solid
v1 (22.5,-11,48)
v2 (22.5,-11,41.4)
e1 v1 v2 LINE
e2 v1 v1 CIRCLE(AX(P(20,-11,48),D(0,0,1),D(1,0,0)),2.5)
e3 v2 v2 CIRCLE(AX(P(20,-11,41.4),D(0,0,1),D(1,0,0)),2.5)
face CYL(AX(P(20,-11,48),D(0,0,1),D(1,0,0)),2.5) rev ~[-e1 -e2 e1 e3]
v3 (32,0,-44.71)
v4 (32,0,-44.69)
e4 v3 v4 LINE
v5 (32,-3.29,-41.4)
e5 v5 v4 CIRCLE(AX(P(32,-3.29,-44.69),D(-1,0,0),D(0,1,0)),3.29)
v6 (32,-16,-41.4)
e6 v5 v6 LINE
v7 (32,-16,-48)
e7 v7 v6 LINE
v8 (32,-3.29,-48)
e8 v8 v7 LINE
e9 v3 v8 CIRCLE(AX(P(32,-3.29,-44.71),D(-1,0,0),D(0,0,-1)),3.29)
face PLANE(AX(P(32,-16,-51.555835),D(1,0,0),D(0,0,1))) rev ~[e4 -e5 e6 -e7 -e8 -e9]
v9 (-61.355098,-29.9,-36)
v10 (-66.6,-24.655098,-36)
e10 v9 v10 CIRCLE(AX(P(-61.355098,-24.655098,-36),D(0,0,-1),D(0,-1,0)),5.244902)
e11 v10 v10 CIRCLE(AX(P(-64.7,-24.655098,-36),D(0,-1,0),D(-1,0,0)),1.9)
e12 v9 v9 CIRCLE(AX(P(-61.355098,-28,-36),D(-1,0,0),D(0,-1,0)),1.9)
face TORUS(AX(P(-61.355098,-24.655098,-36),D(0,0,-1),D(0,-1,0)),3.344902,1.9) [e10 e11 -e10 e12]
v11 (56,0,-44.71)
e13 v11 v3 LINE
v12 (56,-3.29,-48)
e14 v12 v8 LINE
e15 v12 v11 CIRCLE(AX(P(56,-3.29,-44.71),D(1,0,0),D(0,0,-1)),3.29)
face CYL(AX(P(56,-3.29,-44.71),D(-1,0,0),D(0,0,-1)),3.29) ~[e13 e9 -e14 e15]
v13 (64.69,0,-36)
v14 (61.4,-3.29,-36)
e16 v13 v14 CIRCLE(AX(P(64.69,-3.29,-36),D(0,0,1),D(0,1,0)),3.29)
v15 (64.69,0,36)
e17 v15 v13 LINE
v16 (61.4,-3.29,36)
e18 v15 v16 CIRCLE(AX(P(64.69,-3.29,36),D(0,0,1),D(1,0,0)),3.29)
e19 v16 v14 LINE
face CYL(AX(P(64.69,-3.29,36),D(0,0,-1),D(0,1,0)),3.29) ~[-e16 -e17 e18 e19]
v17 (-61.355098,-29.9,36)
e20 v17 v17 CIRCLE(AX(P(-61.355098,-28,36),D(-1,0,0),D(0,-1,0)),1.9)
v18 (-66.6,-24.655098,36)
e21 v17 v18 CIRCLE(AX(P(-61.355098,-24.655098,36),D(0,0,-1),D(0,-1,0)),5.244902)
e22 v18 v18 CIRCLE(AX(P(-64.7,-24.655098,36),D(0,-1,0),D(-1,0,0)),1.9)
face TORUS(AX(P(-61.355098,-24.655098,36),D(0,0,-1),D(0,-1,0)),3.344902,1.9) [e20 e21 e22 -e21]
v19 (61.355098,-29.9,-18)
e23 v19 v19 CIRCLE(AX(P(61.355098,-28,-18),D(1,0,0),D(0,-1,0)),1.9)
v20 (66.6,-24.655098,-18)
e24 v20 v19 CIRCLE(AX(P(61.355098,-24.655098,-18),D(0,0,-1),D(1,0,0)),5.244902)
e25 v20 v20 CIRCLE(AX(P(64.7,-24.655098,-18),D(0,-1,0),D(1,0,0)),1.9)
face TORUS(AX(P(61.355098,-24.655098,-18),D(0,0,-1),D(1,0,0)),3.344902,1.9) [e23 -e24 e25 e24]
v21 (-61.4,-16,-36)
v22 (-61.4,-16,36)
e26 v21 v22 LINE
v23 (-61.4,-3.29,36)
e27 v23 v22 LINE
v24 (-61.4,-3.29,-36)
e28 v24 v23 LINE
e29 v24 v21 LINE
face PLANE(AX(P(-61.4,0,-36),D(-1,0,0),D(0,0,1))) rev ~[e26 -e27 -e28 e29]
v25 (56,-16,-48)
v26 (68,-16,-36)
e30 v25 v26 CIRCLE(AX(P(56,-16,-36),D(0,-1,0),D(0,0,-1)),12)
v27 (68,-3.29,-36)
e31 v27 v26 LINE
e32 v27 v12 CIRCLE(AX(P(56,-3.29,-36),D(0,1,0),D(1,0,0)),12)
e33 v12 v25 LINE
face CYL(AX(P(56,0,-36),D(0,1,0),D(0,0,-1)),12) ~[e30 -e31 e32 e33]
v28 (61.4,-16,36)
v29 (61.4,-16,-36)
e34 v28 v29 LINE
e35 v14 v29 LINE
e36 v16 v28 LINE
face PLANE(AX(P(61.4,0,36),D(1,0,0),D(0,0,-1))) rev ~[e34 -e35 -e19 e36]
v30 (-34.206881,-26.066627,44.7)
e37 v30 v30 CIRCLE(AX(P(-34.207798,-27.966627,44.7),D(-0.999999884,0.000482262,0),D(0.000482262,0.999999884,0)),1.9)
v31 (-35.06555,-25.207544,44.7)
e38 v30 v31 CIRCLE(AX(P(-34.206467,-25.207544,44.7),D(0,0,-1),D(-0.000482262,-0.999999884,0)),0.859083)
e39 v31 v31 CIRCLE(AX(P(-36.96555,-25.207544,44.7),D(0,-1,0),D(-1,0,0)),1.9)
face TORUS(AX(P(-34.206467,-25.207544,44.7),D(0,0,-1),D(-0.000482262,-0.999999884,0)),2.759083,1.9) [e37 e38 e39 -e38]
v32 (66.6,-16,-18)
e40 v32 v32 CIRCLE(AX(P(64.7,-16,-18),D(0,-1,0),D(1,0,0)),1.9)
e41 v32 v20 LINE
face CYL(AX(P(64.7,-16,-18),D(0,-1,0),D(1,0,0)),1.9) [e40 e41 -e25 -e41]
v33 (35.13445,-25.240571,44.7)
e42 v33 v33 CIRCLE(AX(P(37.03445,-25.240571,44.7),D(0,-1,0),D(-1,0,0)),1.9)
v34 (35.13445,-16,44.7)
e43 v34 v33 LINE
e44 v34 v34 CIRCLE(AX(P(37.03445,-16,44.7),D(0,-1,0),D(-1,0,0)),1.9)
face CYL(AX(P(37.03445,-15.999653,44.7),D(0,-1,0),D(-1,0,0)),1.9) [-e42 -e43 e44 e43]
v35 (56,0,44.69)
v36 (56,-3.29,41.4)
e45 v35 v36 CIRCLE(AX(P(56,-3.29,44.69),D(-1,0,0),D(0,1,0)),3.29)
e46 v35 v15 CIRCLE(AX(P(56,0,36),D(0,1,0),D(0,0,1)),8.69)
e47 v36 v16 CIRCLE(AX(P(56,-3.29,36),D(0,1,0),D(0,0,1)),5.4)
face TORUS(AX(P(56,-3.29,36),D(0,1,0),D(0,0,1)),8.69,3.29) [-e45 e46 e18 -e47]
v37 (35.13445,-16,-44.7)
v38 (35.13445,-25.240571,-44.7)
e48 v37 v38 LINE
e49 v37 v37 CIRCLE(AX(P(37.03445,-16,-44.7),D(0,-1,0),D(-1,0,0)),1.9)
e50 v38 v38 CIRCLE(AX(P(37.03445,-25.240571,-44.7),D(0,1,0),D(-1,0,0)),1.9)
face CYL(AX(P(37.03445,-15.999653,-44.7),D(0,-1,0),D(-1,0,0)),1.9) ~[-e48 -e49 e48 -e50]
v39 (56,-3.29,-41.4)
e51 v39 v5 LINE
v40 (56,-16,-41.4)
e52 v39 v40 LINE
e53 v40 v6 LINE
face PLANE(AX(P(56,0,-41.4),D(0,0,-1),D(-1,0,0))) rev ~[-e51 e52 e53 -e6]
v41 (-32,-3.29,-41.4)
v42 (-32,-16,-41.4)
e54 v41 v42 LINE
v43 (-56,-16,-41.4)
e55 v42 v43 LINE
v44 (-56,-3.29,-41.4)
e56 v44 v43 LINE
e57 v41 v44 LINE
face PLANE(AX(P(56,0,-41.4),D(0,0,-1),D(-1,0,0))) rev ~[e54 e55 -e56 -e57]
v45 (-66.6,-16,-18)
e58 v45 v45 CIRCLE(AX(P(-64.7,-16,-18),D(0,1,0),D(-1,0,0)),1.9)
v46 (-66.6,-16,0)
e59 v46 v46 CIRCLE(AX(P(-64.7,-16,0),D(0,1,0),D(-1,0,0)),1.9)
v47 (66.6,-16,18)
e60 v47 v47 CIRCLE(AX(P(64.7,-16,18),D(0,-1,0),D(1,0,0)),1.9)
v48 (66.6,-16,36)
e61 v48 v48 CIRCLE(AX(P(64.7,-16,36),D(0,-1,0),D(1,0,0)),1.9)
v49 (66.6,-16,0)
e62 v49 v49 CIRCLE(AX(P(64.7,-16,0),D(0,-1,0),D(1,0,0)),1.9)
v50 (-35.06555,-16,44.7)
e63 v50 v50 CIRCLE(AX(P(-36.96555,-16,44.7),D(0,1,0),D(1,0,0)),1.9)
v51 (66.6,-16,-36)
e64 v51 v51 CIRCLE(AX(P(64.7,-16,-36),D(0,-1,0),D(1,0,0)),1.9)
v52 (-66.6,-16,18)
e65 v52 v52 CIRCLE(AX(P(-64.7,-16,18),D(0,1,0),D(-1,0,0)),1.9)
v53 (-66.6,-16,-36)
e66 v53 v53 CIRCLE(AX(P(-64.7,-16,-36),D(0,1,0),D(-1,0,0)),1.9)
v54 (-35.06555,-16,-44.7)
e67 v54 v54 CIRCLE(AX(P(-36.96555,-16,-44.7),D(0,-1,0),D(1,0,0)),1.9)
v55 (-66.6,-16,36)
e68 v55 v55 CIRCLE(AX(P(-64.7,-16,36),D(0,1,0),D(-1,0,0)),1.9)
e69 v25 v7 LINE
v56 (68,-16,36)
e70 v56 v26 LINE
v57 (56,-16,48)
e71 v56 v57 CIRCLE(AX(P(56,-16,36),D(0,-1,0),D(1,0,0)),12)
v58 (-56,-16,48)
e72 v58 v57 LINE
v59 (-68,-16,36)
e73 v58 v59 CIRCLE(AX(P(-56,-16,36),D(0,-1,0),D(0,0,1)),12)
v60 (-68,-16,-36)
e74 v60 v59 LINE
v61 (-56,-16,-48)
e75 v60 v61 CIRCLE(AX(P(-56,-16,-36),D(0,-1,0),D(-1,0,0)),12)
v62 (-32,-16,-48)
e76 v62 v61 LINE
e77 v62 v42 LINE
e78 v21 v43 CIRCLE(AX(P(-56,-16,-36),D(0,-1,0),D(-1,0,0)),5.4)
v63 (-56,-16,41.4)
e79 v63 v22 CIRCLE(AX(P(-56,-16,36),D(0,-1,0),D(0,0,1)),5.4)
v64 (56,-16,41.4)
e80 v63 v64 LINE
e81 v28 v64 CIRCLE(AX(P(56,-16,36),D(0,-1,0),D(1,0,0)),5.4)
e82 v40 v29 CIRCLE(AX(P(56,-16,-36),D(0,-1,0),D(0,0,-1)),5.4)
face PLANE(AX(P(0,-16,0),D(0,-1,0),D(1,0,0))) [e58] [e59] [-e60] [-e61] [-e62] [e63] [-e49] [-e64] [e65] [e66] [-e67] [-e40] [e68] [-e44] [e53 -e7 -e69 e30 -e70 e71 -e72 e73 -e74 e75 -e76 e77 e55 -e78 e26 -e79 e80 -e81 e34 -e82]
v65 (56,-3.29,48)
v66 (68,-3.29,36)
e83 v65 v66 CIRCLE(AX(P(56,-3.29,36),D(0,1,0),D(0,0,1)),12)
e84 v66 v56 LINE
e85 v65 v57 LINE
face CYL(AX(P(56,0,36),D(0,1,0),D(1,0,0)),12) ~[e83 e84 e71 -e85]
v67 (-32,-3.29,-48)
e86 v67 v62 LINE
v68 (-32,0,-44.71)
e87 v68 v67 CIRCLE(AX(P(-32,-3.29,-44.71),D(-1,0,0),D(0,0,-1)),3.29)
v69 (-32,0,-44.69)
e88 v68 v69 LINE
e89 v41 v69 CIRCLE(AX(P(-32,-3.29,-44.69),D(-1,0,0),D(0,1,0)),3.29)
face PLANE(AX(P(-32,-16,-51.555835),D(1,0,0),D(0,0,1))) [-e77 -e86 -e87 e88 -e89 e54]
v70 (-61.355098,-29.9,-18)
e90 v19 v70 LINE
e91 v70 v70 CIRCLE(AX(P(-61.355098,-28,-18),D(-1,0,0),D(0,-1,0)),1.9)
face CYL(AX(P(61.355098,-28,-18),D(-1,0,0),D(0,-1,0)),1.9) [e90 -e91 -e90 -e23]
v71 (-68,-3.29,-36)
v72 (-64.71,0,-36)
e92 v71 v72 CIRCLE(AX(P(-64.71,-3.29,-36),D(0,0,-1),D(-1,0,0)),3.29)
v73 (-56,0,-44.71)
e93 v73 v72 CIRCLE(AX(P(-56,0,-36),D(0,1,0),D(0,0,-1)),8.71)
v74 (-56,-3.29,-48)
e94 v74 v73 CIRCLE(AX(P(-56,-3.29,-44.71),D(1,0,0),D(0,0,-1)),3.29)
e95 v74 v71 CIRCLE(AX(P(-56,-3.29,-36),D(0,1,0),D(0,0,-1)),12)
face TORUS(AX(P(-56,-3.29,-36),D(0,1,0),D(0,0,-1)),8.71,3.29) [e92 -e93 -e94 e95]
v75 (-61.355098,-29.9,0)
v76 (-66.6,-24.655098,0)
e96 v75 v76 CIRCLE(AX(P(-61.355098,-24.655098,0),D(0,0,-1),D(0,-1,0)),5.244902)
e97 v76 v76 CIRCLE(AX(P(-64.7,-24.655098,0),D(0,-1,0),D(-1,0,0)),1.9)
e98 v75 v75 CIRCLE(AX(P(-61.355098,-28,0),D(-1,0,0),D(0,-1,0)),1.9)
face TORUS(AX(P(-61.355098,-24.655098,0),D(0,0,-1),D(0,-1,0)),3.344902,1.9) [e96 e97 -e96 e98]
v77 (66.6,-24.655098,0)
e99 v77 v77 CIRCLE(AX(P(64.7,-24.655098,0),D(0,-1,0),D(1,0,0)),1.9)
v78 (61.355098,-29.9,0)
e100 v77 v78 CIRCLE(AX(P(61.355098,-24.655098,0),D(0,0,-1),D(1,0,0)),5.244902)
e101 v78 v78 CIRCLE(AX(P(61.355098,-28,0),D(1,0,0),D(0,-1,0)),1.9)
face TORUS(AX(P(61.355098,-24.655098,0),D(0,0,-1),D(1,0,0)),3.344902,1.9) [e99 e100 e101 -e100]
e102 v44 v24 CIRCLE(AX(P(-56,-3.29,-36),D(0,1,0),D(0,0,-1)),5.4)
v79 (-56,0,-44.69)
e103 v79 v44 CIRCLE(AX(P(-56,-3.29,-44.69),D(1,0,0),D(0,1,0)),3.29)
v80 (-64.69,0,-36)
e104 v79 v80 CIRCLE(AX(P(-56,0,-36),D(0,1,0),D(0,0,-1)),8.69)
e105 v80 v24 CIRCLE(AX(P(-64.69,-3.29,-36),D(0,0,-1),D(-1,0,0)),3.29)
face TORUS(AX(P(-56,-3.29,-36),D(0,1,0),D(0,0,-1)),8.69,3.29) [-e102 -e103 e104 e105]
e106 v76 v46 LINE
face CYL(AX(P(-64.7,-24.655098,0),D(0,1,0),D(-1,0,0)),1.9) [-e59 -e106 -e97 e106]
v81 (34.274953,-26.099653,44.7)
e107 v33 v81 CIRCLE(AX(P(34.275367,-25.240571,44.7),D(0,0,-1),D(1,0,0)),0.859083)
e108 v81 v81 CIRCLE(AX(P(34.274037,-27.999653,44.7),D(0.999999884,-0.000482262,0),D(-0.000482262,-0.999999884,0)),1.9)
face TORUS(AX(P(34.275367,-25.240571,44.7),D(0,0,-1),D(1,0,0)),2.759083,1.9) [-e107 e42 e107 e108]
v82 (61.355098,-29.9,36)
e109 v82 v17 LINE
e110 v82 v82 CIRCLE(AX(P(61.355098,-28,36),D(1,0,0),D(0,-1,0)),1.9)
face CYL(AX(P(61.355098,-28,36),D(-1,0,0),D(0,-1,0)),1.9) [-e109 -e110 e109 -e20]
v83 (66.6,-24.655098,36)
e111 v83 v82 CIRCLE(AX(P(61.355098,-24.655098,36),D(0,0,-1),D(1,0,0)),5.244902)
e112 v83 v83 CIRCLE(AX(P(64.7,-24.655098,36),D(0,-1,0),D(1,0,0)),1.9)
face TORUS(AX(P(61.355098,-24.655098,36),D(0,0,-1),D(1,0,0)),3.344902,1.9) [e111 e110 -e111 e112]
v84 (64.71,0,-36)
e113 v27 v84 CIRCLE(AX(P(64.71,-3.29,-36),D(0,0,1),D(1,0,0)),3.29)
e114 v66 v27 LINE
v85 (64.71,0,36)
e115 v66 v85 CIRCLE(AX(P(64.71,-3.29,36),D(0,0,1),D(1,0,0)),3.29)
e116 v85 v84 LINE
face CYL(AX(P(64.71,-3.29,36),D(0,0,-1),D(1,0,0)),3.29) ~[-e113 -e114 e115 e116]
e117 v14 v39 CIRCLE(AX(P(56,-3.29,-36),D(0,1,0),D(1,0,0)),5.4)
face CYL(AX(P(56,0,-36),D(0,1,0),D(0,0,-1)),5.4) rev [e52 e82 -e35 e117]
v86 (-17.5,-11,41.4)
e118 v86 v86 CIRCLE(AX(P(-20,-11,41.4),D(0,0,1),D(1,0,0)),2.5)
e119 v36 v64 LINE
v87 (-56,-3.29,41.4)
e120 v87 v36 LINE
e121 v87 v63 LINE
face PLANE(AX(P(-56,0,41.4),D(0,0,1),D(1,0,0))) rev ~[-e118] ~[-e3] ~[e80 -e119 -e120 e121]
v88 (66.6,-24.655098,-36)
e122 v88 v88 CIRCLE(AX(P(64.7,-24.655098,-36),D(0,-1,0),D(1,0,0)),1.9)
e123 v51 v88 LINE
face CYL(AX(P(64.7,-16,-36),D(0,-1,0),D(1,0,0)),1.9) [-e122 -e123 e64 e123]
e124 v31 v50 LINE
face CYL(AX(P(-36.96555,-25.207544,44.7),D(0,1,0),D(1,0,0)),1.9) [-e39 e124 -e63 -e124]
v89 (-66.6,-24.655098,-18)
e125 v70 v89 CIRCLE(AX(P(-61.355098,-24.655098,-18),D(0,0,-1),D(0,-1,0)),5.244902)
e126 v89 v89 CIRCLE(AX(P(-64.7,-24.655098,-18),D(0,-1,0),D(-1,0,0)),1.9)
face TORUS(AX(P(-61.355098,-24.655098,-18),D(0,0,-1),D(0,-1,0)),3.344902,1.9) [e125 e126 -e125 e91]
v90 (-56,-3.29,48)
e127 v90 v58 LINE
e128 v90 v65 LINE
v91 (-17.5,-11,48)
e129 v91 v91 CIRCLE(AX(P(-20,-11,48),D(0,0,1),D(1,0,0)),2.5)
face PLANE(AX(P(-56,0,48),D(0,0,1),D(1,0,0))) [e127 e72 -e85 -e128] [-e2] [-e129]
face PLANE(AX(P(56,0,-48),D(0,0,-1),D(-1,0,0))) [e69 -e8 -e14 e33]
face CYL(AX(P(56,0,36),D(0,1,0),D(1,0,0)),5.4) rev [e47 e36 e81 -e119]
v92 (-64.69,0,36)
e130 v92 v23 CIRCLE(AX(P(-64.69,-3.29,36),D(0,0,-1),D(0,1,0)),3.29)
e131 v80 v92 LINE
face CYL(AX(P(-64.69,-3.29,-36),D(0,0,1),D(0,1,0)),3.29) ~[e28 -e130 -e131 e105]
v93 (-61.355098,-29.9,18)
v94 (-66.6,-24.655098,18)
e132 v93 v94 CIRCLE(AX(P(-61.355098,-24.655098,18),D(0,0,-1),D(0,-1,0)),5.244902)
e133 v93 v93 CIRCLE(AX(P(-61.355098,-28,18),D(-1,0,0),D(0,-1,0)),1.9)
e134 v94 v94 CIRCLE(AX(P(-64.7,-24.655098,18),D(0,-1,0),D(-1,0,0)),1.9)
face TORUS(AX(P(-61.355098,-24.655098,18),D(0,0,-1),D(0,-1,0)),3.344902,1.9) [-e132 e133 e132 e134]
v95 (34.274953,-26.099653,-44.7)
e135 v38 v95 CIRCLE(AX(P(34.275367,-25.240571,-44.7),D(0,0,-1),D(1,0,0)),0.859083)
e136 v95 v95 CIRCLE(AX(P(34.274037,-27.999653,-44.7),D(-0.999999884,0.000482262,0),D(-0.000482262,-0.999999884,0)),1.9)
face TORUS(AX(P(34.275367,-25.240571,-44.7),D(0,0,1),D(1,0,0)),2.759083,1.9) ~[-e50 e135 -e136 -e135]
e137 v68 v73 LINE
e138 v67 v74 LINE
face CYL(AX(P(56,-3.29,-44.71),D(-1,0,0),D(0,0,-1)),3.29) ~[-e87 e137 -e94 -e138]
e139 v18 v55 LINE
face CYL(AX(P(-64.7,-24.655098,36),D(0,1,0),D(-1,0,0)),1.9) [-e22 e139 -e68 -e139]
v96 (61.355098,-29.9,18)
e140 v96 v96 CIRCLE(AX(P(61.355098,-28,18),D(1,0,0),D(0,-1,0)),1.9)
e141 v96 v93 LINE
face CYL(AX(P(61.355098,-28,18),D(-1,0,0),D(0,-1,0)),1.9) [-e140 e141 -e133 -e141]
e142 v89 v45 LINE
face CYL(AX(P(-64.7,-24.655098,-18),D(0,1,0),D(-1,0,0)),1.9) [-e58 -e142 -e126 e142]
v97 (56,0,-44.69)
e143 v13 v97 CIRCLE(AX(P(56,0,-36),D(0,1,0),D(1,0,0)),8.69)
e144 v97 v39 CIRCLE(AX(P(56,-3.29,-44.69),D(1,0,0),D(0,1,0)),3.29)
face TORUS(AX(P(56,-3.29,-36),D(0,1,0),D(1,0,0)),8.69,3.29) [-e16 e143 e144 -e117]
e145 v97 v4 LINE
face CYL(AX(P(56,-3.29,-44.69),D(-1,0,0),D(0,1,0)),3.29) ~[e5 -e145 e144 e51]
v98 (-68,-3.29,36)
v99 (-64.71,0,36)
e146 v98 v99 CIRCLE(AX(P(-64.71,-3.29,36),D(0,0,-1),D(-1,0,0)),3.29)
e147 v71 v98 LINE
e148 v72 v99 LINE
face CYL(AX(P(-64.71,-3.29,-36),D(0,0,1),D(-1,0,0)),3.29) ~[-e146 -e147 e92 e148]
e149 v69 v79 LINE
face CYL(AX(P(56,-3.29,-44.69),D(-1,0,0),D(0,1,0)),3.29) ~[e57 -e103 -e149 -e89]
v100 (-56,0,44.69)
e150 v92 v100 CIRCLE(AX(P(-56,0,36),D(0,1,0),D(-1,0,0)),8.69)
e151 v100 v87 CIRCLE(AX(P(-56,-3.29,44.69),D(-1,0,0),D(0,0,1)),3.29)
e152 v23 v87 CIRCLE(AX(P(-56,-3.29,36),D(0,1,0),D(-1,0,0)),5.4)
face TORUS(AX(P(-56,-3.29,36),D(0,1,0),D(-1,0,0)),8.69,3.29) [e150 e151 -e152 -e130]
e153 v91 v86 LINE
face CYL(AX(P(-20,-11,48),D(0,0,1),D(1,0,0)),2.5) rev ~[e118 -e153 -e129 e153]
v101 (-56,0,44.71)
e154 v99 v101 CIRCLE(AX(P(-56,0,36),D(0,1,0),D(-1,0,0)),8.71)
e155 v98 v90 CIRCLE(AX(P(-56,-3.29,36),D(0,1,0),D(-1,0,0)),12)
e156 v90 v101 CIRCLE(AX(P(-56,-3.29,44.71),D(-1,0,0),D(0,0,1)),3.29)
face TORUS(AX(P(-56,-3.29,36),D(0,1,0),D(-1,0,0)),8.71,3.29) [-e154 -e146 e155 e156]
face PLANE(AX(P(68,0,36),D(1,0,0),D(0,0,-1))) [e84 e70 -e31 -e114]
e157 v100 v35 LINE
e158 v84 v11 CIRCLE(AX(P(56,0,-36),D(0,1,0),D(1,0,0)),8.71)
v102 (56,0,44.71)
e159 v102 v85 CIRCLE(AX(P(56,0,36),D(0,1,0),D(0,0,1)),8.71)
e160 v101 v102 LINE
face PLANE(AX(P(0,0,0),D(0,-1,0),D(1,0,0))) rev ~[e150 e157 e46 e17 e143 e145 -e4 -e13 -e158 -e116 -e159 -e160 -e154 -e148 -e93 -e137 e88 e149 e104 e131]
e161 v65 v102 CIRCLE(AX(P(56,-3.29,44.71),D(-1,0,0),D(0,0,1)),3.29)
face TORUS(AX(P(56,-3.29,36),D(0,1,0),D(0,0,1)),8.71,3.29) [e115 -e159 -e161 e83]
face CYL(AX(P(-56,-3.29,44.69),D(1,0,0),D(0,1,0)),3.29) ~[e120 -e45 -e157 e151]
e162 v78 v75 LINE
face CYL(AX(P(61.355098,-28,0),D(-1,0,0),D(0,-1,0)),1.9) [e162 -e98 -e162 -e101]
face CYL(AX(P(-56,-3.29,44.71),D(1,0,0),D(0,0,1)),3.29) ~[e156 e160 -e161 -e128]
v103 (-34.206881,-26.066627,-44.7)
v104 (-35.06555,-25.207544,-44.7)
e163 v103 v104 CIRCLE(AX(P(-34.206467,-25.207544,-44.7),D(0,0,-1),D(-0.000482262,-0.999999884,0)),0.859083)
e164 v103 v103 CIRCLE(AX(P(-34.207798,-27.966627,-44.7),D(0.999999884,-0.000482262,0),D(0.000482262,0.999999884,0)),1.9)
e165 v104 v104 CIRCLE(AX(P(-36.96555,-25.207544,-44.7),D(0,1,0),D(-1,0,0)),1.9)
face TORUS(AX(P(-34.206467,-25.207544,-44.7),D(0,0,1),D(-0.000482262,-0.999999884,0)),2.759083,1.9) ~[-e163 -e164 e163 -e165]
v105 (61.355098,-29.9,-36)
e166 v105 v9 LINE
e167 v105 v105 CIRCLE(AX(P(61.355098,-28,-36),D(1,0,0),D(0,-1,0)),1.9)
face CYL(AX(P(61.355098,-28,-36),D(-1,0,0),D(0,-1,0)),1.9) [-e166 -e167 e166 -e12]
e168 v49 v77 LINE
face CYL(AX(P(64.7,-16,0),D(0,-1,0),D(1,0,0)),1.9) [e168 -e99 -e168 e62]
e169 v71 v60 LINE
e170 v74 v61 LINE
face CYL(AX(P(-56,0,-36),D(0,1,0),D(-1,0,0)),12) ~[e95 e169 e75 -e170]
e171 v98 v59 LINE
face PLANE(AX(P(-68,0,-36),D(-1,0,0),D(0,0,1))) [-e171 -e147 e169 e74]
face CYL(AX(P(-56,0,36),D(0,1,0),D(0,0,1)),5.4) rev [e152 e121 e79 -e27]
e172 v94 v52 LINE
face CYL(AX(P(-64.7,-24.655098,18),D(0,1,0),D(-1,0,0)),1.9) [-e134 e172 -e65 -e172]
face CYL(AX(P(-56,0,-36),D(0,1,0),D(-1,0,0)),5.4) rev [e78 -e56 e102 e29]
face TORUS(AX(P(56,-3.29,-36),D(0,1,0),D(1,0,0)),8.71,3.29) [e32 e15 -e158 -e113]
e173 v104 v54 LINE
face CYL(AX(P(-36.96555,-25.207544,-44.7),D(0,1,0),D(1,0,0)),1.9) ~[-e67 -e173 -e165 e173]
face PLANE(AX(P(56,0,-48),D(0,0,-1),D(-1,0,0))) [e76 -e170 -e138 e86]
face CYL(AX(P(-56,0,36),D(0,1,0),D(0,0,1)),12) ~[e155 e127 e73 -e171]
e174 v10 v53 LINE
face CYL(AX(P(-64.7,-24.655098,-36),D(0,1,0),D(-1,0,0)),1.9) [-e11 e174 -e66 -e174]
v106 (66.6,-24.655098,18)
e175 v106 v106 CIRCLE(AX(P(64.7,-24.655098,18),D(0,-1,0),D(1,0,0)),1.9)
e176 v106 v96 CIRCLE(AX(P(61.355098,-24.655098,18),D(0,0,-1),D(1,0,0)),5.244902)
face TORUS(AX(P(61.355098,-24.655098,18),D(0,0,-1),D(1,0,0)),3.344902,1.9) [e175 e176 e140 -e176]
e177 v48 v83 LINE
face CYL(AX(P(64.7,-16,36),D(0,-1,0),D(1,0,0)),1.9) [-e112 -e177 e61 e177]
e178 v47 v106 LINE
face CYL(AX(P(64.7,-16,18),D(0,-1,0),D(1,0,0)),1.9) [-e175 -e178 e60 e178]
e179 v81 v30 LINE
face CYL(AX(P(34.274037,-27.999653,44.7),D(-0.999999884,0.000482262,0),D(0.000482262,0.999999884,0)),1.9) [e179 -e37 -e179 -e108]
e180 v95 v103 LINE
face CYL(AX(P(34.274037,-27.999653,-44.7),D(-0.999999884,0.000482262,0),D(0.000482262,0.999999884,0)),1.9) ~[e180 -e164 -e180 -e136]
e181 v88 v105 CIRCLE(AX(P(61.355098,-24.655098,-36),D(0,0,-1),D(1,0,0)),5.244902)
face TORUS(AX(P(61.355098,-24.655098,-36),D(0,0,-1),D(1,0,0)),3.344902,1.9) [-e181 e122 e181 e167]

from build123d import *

# Parameters (mm, degrees)
PAD_DEPTH              = 16
THICKNESS_T            = -6.6
FILLET_R               = 3.29
SKETCH001_R            = 2.5
POCKET_DEPTH           = 10
SKETCH003_R            = 1.9
LINEARPATTERN_COUNT    = 3
LINEARPATTERN_PITCH    = 18
LINEARPATTERN001_COUNT = 3
LINEARPATTERN001_PITCH = 18
SKETCH004_W            = 64
SKETCH004_H            = 12.1039636
POCKET001_DEPTH        = 17
SKETCH006_R            = 1.9


with BuildPart() as part:
    # Sketch → Pad (new body)
    with BuildSketch(Plane.XZ):
        with BuildLine():
            ThreePointArc((-56, 48), (-64.4852813742, 44.4852813742), (-68, 36))
            Line((-68, -36), (-68, 36))
            ThreePointArc((-68, -36), (-64.4852813742, -44.4852813742), (-56, -48))
            Line((56, -48), (-56, -48))
            ThreePointArc((56, -48), (64.4852813742, -44.4852813742), (68, -36))
            Line((68, 36), (68, -36))
            ThreePointArc((68, 36), (64.4852813742, 44.4852813742), (56, 48))
            Line((-56, 48), (56, 48))
        make_face()
    extrude(amount=PAD_DEPTH)

    # Thickness
    thickness_openings = [part.faces().sort_by_distance(p)[0] for p in [
        (0, -16, 0),
        (0, 0, 0),
    ]]
    offset(amount=THICKNESS_T, openings=thickness_openings)

    # Fillet
    fillet_edges = [part.edges().sort_by_distance(p)[0] for p in [
        (0, 0, -41.4),
        (-59.818377, 0, -39.818377),
        (0, 0, -48),
        (-64.485281, 0, -44.485281),
    ]]
    fillet(fillet_edges, radius=FILLET_R)

    # Sketch001 (on Face2 of Fillet) → Pocket (cut)
    with BuildSketch(Plane.XY.offset(48)):
        with Locations((-20, -11)):
            Circle(SKETCH001_R)
        with Locations((20, -11)):
            Circle(SKETCH001_R)
    extrude(amount=-POCKET_DEPTH, mode=Mode.SUBTRACT)

    # AdditivePipe: sweep along a path in Sketch002
    with BuildLine(Plane.XY) as additivepipe_path:
        Line((64.7, -16), (64.7, -24.6550980597))
        ThreePointArc((64.7, -24.6550980597), (63.7203009041, -27.0203009041), (61.3550980597, -28))
        Line((61.3550980597, -28), (-61.3550980597, -28))
        ThreePointArc((-61.3550980597, -28), (-63.7203009041, -27.0203009041), (-64.7, -24.6550980597))
        Line((-64.7, -24.6550980597), (-64.7, -16))
    # Sketch003 (on Face4 of Pocket) → AdditivePipe (sweep)
    with BuildSketch(Plane.XZ.offset(16)):
        with Locations((64.7, 0)):
            Circle(SKETCH003_R)
    additivepipe = sweep(path=additivepipe_path.line)

    # LinearPattern: AdditivePipe ×3
    with Locations(*[(0, 0, -i * LINEARPATTERN_PITCH) for i in range(1, LINEARPATTERN_COUNT)]):
        add(additivepipe)

    # LinearPattern001: AdditivePipe ×3
    with Locations(*[(0, 0, i * LINEARPATTERN001_PITCH) for i in range(1, LINEARPATTERN001_COUNT)]):
        add(additivepipe)

    # Sketch004 (on Face4 of LinearPattern001) → Pocket001 (cut)
    with BuildSketch(Plane.XZ.offset(16)):
        with Locations((0, -45.503853)):
            Rectangle(SKETCH004_W, SKETCH004_H)
    extrude(amount=-POCKET001_DEPTH, mode=Mode.SUBTRACT)

    # AdditivePipe001: sweep along a path in Sketch005
    with BuildLine(Plane.XY.offset(44.7)) as additivepipe001_path:
        Line((37.0344500791, -15.999653134), (37.0344500791, -25.2405705423))
        ThreePointArc((37.0344500791, -25.2405705423), (36.2258629084, -27.1920071616), (34.274036565, -27.999653134))
        Line((34.274036565, -27.999653134), (-34.2077976098, -27.9666269283))
        ThreePointArc((-34.2077976098, -27.9666269283), (-36.1579036276, -27.1580400786), (-36.9655499209, -25.2075443366))
        Line((-36.9655499209, -25.2075443366), (-36.9655499209, -16))
    # Sketch006 (on Face4 of Pocket001) → AdditivePipe001 (sweep)
    with BuildSketch(Plane.XZ.offset(16)):
        with Locations((-36.9655499209, 44.7)):
            Circle(SKETCH006_R)
    additivepipe001 = sweep(path=additivepipe001_path.line)

    # Mirrored: AdditivePipe001 across XY
    add(additivepipe001.mirror(Plane.XY))


solid = part.part
